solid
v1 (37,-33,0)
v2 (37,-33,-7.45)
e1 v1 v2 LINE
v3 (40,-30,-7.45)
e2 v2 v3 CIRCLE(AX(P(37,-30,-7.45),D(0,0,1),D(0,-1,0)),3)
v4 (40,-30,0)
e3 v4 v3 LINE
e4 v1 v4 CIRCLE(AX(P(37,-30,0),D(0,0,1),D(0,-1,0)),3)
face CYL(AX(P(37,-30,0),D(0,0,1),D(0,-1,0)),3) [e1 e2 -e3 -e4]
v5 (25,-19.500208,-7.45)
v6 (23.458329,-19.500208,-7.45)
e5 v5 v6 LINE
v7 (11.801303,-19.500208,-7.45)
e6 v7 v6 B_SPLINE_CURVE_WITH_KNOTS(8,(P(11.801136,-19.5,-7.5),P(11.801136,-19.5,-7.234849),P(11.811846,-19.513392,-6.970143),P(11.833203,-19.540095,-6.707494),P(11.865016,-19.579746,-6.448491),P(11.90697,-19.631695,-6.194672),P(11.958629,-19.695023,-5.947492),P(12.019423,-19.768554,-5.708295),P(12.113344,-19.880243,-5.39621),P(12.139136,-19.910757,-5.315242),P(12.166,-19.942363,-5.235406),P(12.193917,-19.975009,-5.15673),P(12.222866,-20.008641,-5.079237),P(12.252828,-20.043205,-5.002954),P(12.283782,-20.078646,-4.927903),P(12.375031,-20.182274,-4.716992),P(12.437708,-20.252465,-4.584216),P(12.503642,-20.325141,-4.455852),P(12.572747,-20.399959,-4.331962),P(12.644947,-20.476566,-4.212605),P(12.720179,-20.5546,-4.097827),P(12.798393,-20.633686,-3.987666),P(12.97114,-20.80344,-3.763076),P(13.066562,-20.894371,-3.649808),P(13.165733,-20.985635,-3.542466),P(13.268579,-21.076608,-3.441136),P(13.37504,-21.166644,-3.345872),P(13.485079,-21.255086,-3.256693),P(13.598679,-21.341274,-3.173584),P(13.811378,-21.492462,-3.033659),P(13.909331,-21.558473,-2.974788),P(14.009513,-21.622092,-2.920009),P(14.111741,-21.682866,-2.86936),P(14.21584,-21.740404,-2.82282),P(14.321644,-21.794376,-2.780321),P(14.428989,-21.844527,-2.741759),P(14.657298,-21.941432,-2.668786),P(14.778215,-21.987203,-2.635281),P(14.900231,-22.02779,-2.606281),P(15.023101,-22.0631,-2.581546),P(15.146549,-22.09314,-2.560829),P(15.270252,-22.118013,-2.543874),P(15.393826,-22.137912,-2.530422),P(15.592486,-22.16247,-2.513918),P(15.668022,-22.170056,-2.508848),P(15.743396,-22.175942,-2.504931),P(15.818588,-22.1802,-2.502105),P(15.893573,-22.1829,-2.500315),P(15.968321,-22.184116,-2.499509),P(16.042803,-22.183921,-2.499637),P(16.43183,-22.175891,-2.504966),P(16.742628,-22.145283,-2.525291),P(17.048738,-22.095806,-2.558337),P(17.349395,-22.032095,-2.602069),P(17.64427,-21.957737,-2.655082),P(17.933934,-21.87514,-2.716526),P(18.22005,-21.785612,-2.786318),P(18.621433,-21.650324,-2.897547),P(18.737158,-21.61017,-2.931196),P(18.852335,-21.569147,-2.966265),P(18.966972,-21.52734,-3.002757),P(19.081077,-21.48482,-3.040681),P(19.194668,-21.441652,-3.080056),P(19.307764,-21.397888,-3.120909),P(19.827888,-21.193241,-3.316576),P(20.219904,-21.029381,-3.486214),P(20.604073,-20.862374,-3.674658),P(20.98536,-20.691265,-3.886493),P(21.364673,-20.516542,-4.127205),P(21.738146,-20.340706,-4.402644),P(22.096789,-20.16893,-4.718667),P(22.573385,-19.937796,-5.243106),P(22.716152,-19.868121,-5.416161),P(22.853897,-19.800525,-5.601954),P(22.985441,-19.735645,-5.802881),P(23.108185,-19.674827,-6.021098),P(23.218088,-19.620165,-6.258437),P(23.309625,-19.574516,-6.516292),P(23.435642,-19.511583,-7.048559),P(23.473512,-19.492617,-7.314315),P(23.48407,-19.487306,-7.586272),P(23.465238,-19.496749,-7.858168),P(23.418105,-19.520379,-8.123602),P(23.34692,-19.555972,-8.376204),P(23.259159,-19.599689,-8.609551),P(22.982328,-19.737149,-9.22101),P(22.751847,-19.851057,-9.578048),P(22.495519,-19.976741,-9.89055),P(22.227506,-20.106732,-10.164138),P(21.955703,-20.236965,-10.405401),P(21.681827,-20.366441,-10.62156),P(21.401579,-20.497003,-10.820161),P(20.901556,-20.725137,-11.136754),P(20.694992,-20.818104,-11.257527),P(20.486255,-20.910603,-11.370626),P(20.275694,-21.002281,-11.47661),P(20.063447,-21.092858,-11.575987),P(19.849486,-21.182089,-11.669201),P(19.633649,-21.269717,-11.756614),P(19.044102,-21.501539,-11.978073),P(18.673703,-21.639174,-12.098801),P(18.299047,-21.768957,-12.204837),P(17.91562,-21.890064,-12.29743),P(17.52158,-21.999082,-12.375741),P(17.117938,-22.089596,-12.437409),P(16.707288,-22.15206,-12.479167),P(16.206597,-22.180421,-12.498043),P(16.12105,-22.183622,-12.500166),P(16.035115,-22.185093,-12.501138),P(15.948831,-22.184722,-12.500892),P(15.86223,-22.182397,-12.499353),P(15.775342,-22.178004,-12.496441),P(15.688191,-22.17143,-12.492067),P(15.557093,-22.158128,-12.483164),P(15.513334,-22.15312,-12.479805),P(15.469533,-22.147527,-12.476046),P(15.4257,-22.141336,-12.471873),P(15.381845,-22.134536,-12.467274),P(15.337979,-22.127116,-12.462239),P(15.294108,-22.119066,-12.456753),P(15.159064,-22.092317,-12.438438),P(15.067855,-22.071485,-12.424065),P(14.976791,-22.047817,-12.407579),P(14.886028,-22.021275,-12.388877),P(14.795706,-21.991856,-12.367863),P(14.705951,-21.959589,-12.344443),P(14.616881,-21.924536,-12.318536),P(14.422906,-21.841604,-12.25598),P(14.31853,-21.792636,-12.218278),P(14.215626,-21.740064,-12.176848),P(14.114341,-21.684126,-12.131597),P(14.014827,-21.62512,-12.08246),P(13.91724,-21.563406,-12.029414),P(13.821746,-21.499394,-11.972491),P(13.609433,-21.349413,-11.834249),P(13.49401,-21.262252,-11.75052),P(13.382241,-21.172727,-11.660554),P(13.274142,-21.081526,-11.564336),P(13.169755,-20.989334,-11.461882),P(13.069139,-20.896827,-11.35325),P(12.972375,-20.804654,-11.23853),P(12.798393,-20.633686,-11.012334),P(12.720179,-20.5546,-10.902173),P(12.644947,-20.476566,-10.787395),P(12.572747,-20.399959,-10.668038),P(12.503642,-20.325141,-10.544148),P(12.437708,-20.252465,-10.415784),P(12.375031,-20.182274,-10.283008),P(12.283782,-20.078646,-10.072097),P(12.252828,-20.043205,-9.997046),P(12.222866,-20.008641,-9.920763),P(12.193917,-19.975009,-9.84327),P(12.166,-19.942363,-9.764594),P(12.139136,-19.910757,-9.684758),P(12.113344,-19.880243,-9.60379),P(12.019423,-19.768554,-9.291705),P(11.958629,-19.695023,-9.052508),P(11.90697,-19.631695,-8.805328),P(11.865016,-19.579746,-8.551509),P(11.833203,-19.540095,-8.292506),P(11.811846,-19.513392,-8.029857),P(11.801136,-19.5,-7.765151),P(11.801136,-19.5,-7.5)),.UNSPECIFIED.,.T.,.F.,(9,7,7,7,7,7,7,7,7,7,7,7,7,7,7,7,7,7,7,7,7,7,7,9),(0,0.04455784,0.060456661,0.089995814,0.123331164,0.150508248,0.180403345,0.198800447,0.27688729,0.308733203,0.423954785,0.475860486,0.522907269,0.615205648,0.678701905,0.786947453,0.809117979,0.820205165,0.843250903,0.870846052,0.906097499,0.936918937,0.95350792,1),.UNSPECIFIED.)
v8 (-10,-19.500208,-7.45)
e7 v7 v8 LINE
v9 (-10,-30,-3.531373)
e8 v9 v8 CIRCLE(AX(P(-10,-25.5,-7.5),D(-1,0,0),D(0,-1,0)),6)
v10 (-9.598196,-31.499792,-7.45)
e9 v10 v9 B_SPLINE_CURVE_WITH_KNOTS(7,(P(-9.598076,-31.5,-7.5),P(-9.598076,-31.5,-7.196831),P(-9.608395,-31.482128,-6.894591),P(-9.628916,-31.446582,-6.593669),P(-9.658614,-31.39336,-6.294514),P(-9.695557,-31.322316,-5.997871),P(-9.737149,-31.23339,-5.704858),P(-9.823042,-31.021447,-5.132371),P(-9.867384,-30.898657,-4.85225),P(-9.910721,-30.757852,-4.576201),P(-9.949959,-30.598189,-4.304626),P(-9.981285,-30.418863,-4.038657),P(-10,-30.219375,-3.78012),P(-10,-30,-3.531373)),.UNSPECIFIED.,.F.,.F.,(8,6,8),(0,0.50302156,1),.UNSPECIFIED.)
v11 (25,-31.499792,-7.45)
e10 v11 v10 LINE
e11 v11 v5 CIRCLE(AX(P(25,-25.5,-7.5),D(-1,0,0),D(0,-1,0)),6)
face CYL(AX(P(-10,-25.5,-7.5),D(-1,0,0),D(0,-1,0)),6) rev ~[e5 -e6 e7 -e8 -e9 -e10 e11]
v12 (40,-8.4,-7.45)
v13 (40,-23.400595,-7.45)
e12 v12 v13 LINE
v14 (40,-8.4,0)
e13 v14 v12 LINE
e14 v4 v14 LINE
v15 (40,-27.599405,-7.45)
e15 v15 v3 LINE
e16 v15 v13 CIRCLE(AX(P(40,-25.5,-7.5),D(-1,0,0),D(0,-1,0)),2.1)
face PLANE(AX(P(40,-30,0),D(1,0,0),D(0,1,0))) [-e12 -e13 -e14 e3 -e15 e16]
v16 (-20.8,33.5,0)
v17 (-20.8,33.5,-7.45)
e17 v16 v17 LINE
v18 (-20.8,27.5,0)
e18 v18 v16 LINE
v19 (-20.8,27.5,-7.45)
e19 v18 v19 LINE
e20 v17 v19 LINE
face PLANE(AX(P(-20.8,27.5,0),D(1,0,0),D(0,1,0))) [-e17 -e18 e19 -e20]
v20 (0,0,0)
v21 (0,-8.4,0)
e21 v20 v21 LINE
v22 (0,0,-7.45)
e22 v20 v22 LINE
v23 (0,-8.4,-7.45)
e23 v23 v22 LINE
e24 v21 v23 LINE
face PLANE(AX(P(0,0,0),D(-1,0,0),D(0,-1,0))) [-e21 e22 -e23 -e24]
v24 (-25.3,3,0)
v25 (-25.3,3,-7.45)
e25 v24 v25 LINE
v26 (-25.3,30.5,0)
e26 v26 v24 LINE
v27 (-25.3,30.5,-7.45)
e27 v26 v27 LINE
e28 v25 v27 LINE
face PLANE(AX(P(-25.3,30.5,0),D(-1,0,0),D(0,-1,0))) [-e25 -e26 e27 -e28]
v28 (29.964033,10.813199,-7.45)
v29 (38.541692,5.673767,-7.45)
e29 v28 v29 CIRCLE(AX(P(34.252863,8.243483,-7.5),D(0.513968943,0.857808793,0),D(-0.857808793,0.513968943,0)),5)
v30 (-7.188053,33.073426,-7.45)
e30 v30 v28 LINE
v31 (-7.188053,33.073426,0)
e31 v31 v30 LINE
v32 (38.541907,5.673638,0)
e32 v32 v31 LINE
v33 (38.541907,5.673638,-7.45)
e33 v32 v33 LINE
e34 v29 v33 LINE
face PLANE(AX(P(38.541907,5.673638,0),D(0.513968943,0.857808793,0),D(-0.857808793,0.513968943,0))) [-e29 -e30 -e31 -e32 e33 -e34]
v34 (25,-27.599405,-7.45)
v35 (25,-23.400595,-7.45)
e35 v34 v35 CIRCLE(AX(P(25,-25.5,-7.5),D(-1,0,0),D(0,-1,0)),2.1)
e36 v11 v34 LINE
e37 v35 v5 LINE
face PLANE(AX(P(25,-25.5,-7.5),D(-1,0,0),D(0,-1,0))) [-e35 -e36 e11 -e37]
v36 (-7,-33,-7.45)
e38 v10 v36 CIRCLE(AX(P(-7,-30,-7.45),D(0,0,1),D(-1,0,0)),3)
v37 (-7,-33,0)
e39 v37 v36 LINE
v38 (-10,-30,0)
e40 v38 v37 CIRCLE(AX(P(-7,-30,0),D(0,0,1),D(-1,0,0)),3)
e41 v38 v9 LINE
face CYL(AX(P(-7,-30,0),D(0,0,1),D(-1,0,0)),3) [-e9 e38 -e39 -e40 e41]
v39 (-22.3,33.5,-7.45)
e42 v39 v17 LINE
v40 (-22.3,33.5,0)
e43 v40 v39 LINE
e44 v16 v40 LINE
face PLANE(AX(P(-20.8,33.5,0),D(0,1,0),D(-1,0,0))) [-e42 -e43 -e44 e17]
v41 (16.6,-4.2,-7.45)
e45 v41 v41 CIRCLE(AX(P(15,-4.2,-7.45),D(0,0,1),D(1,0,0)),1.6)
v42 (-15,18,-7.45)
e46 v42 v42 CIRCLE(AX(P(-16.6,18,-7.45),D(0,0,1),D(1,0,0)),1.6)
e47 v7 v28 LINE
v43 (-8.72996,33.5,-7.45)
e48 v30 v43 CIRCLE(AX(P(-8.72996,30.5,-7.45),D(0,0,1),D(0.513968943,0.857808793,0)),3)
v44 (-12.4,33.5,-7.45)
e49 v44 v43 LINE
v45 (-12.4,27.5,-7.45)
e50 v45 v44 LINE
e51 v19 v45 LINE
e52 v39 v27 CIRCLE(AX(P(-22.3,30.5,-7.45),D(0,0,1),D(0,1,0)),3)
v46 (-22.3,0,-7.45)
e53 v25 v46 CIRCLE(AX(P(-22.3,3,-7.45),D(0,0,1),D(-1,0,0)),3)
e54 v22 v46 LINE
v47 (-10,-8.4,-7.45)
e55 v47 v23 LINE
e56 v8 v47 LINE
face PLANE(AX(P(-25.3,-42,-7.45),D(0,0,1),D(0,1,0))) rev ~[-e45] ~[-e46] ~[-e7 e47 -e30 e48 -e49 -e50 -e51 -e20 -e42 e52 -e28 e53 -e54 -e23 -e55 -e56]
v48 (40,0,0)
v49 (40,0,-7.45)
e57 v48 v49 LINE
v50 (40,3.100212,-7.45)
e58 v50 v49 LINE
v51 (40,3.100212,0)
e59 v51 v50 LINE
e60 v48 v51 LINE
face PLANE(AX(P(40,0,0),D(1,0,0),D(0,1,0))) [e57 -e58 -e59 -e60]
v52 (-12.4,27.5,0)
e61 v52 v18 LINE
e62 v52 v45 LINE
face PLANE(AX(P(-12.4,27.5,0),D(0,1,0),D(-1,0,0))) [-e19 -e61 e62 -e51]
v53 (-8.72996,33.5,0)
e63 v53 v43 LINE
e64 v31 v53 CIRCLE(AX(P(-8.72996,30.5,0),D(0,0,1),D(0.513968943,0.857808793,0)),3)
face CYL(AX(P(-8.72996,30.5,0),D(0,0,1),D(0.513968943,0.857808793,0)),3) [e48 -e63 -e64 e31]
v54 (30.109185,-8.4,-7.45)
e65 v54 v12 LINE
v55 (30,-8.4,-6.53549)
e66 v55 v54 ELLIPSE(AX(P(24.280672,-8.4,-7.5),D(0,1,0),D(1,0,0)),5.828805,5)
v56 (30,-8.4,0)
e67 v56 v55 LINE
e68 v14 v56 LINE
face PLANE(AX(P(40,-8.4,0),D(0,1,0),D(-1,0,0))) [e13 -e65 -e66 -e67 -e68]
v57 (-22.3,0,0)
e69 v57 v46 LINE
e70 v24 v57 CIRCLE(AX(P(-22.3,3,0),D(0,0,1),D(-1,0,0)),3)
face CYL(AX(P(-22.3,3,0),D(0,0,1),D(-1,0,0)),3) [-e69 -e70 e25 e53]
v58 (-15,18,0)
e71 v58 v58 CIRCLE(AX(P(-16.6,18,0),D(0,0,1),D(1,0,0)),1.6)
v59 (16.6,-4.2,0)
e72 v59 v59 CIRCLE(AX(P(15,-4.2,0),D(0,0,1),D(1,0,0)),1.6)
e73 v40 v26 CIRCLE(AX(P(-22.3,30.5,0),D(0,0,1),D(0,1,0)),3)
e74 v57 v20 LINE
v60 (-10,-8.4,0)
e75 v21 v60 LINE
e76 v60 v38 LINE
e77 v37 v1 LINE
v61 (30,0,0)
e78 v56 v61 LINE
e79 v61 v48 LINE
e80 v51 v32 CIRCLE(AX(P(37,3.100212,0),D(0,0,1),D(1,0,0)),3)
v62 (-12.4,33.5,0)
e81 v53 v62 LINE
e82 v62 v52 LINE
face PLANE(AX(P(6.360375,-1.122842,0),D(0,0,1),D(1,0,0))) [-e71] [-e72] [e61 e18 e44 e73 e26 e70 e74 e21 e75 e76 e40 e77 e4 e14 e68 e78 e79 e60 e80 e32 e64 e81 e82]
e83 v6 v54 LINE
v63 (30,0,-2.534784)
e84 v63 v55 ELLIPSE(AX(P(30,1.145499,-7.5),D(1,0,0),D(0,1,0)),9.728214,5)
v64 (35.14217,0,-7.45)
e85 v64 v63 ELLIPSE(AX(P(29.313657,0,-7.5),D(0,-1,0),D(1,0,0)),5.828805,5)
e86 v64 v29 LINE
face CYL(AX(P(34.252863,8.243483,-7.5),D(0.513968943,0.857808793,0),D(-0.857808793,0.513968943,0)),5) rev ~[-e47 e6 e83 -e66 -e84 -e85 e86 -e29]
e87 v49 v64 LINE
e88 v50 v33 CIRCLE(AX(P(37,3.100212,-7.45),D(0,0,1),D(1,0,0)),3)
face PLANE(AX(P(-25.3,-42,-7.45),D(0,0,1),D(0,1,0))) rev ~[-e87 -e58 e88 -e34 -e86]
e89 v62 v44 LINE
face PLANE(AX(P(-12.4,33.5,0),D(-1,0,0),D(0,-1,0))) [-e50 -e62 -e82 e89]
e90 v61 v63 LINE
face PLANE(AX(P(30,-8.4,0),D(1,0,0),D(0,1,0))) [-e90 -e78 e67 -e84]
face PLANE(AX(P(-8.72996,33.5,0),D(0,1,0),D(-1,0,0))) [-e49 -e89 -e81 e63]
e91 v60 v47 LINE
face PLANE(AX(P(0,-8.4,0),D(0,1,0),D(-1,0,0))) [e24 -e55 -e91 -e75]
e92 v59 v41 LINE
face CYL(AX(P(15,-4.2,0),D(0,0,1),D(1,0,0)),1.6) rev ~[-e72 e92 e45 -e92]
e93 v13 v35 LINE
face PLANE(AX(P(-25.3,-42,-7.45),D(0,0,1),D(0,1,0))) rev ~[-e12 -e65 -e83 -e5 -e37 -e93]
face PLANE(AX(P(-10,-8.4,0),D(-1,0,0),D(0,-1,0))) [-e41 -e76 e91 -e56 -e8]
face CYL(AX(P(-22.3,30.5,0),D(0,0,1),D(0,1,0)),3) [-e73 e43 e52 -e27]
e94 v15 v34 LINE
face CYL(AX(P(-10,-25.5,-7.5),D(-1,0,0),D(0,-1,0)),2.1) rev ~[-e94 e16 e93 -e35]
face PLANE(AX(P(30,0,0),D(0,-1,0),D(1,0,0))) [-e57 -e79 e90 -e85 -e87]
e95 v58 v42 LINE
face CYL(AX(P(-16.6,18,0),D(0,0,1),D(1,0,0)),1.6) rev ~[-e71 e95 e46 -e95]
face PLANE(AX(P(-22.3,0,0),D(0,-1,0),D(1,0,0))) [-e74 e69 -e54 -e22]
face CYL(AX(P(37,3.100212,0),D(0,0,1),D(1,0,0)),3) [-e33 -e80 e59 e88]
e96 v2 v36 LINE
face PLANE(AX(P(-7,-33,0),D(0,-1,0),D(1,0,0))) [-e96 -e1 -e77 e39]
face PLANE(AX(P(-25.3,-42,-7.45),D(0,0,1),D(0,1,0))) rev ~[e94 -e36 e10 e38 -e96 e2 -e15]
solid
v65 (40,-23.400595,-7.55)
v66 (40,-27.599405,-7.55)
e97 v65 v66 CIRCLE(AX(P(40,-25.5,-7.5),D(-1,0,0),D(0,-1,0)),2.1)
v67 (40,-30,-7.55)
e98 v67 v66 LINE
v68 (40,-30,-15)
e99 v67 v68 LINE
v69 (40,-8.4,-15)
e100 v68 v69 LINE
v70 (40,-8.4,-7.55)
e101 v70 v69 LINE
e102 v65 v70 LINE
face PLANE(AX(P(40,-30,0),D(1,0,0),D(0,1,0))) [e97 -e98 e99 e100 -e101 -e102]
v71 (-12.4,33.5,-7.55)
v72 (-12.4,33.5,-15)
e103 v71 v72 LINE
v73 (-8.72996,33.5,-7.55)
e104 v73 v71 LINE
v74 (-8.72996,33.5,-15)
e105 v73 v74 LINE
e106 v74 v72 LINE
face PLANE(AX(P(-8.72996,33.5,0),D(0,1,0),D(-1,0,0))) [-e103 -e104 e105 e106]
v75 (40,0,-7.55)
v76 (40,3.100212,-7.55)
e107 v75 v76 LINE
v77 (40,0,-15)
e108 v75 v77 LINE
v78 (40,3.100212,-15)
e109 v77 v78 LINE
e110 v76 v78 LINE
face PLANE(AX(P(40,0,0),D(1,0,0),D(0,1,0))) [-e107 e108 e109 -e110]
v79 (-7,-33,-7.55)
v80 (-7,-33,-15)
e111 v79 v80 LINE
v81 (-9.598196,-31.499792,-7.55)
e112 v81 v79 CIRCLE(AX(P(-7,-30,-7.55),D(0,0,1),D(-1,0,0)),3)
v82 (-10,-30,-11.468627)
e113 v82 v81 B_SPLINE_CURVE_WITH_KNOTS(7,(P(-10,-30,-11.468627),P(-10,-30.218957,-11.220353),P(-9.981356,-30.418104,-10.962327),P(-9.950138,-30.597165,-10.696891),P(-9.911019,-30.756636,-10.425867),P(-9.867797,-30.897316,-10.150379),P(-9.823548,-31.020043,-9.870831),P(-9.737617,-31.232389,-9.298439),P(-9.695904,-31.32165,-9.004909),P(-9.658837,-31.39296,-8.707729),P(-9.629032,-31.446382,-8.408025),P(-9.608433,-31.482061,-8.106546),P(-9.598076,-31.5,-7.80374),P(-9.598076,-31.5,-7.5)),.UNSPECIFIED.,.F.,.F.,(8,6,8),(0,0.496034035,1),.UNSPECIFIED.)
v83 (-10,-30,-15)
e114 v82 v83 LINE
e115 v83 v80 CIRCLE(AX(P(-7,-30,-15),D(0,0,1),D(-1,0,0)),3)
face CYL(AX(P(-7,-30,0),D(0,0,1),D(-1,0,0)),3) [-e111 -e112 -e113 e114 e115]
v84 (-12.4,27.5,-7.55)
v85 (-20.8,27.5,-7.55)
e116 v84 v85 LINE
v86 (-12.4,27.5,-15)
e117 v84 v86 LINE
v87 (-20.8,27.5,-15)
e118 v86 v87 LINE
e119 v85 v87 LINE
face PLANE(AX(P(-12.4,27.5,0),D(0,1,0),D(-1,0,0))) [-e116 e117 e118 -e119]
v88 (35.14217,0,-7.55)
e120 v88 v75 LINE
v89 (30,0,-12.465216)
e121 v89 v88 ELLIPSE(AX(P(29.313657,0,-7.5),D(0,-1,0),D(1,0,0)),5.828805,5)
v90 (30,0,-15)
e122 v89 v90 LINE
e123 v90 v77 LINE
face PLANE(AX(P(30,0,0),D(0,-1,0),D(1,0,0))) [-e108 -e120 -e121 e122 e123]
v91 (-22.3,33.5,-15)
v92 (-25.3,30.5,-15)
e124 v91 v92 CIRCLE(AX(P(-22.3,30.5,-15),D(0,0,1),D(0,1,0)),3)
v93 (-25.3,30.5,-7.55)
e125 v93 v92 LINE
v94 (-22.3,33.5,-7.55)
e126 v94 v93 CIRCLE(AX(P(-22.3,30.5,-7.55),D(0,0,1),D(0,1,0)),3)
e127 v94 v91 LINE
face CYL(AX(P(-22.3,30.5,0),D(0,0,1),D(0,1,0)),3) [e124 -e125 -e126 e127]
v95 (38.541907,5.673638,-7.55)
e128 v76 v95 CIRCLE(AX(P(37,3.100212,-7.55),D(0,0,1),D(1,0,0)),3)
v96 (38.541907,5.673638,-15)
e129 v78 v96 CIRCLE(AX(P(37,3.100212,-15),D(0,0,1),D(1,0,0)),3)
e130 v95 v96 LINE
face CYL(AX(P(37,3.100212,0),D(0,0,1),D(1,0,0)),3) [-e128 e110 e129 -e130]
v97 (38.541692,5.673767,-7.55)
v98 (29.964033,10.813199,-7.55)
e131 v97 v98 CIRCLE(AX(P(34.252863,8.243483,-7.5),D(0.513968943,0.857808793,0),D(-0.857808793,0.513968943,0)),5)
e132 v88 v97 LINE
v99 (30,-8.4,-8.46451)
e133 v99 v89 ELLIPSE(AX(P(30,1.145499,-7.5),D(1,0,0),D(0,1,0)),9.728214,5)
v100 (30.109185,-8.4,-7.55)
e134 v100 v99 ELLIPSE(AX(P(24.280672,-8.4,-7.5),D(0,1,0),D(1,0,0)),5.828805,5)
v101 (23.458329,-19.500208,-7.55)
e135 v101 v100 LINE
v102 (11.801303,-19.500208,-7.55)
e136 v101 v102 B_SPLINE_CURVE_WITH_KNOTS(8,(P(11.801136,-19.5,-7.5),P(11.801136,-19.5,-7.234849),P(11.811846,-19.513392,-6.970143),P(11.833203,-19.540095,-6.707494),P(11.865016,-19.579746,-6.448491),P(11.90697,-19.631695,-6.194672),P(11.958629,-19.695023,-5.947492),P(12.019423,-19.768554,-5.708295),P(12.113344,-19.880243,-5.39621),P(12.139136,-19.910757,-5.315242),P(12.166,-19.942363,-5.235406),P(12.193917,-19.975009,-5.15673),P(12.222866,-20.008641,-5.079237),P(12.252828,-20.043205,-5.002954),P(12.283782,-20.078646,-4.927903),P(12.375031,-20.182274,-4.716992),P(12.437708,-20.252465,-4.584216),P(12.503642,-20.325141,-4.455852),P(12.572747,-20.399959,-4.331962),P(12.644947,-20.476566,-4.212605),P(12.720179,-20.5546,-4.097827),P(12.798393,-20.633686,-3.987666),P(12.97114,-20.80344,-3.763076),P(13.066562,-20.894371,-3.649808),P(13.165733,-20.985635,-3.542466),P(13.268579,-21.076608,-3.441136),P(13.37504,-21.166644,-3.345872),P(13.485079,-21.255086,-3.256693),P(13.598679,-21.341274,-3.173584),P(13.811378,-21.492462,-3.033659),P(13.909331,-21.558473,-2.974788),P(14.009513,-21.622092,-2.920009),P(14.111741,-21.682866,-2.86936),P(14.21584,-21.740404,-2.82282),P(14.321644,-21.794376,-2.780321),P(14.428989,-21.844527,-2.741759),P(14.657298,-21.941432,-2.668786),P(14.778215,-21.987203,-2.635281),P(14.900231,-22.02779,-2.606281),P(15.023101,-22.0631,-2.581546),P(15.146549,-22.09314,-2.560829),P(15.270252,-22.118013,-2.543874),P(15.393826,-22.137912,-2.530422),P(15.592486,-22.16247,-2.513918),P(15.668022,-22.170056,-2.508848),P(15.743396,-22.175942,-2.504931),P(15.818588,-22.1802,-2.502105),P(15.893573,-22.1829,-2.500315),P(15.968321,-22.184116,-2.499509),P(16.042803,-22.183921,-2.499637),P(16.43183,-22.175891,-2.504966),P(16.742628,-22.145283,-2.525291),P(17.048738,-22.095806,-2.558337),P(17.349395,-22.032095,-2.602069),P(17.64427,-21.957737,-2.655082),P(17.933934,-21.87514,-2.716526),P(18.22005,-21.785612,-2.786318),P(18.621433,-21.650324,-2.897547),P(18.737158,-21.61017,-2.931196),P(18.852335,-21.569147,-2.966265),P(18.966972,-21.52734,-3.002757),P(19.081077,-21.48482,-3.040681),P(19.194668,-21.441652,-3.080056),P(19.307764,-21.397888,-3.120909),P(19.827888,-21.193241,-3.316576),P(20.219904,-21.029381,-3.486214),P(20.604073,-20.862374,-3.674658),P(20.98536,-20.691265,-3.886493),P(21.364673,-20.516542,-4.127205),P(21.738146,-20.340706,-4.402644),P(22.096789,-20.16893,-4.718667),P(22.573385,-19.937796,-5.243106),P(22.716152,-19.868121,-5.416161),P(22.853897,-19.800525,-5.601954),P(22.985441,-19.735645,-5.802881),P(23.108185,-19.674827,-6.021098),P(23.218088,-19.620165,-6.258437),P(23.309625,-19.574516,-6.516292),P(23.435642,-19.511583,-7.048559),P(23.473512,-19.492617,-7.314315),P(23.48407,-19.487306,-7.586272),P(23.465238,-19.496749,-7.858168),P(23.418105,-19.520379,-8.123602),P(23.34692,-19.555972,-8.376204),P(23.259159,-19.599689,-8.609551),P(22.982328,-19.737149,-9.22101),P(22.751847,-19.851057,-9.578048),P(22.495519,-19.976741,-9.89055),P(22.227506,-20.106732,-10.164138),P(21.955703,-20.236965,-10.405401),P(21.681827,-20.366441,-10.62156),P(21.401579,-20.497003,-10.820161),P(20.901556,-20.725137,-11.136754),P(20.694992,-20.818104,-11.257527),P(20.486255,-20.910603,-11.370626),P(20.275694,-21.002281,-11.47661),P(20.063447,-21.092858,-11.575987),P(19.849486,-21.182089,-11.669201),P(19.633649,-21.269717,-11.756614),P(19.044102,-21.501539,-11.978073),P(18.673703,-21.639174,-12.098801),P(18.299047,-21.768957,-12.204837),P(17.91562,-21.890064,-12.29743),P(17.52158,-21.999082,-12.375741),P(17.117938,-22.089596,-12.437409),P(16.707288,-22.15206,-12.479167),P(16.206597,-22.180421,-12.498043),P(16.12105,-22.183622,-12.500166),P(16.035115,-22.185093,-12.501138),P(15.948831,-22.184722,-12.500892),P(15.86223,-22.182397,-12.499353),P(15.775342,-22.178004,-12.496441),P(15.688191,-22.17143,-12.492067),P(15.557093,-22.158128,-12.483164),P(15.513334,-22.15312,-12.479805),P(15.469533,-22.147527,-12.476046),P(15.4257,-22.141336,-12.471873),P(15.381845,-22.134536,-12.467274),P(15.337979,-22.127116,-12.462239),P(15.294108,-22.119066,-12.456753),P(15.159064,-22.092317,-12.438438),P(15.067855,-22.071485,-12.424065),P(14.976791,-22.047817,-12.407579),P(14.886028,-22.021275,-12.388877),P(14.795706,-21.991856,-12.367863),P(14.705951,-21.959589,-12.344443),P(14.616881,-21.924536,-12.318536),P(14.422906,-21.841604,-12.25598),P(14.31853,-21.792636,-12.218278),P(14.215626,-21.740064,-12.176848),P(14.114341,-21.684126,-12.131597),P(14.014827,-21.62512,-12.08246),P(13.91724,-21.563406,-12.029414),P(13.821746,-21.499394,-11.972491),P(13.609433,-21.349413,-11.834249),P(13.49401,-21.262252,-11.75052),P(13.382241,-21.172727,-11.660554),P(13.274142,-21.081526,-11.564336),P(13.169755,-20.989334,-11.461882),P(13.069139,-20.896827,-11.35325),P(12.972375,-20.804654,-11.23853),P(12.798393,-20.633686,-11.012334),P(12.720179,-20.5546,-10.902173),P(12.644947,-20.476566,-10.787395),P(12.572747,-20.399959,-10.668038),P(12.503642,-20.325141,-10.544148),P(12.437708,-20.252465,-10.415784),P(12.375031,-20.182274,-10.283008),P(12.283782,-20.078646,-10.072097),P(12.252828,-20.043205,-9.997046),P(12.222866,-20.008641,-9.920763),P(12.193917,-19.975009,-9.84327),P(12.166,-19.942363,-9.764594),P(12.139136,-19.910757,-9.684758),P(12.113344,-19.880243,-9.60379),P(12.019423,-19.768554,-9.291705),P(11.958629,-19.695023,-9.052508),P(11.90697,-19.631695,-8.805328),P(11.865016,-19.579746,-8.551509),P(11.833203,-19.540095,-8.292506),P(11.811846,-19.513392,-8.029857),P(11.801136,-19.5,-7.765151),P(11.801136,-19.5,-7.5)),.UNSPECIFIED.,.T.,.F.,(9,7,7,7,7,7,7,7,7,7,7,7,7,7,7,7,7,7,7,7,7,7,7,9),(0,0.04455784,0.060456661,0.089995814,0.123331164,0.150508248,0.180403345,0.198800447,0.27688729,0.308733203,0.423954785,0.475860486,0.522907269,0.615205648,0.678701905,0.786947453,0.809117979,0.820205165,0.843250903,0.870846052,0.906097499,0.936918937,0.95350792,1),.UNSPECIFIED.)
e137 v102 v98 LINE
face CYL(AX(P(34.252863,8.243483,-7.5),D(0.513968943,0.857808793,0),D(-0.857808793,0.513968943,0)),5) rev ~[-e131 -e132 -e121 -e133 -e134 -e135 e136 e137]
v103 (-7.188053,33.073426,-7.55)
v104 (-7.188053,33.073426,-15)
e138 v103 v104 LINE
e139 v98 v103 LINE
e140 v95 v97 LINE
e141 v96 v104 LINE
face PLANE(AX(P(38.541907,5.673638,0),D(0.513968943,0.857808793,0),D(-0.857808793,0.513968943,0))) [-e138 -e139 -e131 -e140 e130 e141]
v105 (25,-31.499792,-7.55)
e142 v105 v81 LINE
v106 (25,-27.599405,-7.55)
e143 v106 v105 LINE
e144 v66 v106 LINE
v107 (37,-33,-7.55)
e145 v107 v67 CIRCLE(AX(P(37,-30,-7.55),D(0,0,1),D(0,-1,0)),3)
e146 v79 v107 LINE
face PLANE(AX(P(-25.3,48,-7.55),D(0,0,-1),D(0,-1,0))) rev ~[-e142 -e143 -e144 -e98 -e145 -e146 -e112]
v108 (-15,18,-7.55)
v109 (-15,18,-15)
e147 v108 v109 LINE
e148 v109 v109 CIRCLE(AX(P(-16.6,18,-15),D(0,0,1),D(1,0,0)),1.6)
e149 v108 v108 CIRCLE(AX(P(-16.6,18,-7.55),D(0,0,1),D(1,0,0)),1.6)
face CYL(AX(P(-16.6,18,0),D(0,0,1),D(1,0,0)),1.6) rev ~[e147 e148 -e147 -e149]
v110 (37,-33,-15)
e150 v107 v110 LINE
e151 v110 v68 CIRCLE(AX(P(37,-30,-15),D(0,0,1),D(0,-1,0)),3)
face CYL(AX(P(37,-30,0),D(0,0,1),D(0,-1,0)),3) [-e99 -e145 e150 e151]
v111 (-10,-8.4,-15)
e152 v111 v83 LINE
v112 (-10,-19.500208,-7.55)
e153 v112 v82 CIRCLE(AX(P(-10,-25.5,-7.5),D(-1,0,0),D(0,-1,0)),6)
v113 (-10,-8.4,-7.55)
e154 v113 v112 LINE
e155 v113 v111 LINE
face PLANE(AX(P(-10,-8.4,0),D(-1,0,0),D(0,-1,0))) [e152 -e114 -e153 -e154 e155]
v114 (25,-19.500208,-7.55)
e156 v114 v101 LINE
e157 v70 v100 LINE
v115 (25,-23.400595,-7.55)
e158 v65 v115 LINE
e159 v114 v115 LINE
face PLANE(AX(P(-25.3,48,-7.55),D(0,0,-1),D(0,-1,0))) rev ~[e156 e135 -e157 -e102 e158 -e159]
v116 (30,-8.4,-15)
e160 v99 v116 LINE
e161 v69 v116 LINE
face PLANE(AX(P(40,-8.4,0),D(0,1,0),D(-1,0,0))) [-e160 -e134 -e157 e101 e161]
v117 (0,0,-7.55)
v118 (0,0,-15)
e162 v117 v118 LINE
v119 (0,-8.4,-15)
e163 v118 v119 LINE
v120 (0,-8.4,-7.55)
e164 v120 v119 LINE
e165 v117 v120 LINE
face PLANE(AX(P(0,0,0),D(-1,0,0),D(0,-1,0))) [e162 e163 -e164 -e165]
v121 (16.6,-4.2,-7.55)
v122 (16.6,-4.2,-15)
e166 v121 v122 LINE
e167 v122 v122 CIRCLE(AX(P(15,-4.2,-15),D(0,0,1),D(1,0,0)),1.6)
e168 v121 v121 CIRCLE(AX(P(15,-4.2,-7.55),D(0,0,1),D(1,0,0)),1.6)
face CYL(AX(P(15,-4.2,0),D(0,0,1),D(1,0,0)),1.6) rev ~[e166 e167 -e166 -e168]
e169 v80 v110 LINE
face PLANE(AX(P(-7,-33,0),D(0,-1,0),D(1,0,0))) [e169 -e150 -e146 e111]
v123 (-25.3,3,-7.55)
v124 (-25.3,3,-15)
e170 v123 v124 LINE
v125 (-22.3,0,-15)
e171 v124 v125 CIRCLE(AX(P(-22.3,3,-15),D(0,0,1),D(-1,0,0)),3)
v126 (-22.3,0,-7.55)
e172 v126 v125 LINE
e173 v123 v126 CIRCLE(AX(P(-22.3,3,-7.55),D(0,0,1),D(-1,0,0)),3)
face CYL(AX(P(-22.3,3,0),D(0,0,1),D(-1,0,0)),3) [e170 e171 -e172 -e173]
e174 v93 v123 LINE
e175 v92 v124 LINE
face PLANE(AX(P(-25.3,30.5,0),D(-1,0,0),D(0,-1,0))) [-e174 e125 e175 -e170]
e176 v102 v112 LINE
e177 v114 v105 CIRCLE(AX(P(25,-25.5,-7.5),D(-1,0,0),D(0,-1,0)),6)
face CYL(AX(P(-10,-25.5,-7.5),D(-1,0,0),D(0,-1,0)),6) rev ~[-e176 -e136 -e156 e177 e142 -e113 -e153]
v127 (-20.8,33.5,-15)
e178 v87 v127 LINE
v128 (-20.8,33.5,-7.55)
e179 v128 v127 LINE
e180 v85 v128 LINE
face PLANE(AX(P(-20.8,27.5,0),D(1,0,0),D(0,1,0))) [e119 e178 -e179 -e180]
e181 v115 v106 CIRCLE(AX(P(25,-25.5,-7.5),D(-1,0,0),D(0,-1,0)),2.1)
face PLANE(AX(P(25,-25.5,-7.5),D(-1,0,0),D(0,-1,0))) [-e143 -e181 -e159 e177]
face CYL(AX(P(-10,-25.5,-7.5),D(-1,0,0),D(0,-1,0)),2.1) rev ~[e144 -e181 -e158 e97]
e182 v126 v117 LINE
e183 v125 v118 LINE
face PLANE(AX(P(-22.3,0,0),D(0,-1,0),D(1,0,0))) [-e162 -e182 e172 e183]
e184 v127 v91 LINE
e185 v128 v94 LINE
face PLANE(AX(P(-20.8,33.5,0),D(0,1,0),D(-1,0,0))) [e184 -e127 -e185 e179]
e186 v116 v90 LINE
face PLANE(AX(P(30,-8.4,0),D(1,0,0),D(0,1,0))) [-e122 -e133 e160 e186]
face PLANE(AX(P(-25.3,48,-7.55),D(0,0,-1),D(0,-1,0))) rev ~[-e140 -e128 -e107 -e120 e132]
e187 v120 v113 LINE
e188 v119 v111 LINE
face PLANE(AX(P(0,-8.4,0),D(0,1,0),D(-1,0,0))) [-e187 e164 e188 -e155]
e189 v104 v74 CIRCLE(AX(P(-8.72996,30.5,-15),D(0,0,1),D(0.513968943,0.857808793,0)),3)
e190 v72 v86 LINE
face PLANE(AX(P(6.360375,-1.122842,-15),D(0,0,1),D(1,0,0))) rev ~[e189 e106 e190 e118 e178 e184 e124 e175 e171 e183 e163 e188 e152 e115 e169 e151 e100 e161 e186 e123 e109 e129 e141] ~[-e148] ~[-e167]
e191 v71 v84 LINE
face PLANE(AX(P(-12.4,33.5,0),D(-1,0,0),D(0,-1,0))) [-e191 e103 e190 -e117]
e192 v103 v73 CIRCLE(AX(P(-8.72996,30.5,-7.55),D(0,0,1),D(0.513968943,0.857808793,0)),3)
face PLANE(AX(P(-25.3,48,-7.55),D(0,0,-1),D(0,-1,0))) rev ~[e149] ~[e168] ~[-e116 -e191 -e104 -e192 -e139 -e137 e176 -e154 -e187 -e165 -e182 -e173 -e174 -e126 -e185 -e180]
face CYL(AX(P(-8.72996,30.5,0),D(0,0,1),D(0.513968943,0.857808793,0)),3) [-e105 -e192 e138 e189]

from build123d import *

# Parameters (mm, degrees)
F0_R     = 1.6
F1_DEPTH = 15
F2_R     = 6
F2_R_2   = 2.1
F3_DEPTH = 35
F4_DEPTH = 60
F6_DEPTH = 41
F7_W     = 45
F7_H     = 0.1
F7_W_2   = 27.5
F7_W_3   = 17.5
F8_DEPTH = 70


with BuildPart() as f1:
    # F0 (on Top) → F1 (new body)
    with BuildSketch(Plane.XY):
        with BuildLine():
            Line((30, 0), (40, 0))
            Line((40, 0), (40, 3.1002119088))
            ThreePointArc((40, 3.1002119088), (39.6101456364, 4.5791100651), (38.5419068287, 5.6736382884))
            Line((38.5419068287, 5.6736382884), (-7.1880530866, 33.0734263797))
            ThreePointArc((-7.1880530866, 33.0734263797), (-7.930047151, 33.3913905944), (-8.7299599153, 33.5))
            Line((-8.7299599153, 33.5), (-12.4, 33.5))
            Line((-12.4, 33.5), (-12.4, 27.5))
            Line((-12.4, 27.5), (-20.8, 27.5))
            Line((-20.8, 27.5), (-20.8, 33.5))
            Line((-20.8, 33.5), (-22.3, 33.5))
            ThreePointArc((-22.3, 33.5), (-24.4213203436, 32.6213203436), (-25.3, 30.5))
            Line((-25.3, 30.5), (-25.3, 3))
            ThreePointArc((-25.3, 3), (-24.4213203436, 0.8786796564), (-22.3, 0))
            Line((-22.3, 0), (0, 0))
            Line((0, 0), (0, -8.4))
            Line((0, -8.4), (-10, -8.4))
            Line((-10, -8.4), (-10, -30))
            ThreePointArc((-10, -30), (-9.1213203436, -32.1213203436), (-7, -33))
            Line((-7, -33), (37, -33))
            ThreePointArc((37, -33), (39.1213203436, -32.1213203436), (40, -30))
            Line((40, -30), (40, -8.4))
            Line((40, -8.4), (30, -8.4))
            Line((30, -8.4), (30, 0))
        make_face()
        with Locations((15, -4.2)):
            Circle(F0_R, mode=Mode.SUBTRACT)
        with Locations((-16.6, 18)):
            Circle(F0_R, mode=Mode.SUBTRACT)
    extrude(amount=-F1_DEPTH)

    # F2 (on face) → F3 (cut)
    with BuildSketch(Plane(origin=(-10, 0, 0), x_dir=(0, -1, 0), z_dir=(-1, 0, 0))):
        with Locations((25.5, -7.5)):
            Circle(F2_R)
        with Locations((25.5, -7.5)):
            Circle(F2_R_2, mode=Mode.SUBTRACT)
    extrude(amount=-F3_DEPTH, mode=Mode.SUBTRACT)

    # F2 (on face) → F4 (cut)
    with BuildSketch(Plane(origin=(-10, 0, 0), x_dir=(0, -1, 0), z_dir=(-1, 0, 0))):
        with Locations((25.5, -7.5)):
            Circle(F2_R_2)
    extrude(amount=-F4_DEPTH, mode=Mode.SUBTRACT)

    # F5 (on face) → F6 (cut)
    with BuildSketch(Plane(origin=(12.6828209487, 21.1674955903, 0), x_dir=(-0.8578087932, 0.5139689429, 0), z_dir=(0.5139689429, 0.8578087932, 0))):
        with BuildLine():
            ThreePointArc((-30.1455127116, -7.5), (-25.1455127116, -12.5), (-20.1455127116, -7.5))
            ThreePointArc((-20.1455127116, -7.5), (-25.1455127116, -2.5), (-30.1455127116, -7.5))
        make_face()
    extrude(amount=-F6_DEPTH, mode=Mode.SUBTRACT)

    # F7 (on face) → F8 (cut)
    with BuildSketch(Plane(origin=(-25.3, 0, 0), x_dir=(0, -1, 0), z_dir=(-1, 0, 0))):
        with Locations((19.5, -7.5)):
            Rectangle(F7_W, F7_H)
        with Locations((-16.75, -7.5)):
            Rectangle(F7_W_2, F7_H)
        with Locations((-39.25, -7.5)):
            Rectangle(F7_W_3, F7_H)
    extrude(amount=-F8_DEPTH, mode=Mode.SUBTRACT)


solid = f1.part
